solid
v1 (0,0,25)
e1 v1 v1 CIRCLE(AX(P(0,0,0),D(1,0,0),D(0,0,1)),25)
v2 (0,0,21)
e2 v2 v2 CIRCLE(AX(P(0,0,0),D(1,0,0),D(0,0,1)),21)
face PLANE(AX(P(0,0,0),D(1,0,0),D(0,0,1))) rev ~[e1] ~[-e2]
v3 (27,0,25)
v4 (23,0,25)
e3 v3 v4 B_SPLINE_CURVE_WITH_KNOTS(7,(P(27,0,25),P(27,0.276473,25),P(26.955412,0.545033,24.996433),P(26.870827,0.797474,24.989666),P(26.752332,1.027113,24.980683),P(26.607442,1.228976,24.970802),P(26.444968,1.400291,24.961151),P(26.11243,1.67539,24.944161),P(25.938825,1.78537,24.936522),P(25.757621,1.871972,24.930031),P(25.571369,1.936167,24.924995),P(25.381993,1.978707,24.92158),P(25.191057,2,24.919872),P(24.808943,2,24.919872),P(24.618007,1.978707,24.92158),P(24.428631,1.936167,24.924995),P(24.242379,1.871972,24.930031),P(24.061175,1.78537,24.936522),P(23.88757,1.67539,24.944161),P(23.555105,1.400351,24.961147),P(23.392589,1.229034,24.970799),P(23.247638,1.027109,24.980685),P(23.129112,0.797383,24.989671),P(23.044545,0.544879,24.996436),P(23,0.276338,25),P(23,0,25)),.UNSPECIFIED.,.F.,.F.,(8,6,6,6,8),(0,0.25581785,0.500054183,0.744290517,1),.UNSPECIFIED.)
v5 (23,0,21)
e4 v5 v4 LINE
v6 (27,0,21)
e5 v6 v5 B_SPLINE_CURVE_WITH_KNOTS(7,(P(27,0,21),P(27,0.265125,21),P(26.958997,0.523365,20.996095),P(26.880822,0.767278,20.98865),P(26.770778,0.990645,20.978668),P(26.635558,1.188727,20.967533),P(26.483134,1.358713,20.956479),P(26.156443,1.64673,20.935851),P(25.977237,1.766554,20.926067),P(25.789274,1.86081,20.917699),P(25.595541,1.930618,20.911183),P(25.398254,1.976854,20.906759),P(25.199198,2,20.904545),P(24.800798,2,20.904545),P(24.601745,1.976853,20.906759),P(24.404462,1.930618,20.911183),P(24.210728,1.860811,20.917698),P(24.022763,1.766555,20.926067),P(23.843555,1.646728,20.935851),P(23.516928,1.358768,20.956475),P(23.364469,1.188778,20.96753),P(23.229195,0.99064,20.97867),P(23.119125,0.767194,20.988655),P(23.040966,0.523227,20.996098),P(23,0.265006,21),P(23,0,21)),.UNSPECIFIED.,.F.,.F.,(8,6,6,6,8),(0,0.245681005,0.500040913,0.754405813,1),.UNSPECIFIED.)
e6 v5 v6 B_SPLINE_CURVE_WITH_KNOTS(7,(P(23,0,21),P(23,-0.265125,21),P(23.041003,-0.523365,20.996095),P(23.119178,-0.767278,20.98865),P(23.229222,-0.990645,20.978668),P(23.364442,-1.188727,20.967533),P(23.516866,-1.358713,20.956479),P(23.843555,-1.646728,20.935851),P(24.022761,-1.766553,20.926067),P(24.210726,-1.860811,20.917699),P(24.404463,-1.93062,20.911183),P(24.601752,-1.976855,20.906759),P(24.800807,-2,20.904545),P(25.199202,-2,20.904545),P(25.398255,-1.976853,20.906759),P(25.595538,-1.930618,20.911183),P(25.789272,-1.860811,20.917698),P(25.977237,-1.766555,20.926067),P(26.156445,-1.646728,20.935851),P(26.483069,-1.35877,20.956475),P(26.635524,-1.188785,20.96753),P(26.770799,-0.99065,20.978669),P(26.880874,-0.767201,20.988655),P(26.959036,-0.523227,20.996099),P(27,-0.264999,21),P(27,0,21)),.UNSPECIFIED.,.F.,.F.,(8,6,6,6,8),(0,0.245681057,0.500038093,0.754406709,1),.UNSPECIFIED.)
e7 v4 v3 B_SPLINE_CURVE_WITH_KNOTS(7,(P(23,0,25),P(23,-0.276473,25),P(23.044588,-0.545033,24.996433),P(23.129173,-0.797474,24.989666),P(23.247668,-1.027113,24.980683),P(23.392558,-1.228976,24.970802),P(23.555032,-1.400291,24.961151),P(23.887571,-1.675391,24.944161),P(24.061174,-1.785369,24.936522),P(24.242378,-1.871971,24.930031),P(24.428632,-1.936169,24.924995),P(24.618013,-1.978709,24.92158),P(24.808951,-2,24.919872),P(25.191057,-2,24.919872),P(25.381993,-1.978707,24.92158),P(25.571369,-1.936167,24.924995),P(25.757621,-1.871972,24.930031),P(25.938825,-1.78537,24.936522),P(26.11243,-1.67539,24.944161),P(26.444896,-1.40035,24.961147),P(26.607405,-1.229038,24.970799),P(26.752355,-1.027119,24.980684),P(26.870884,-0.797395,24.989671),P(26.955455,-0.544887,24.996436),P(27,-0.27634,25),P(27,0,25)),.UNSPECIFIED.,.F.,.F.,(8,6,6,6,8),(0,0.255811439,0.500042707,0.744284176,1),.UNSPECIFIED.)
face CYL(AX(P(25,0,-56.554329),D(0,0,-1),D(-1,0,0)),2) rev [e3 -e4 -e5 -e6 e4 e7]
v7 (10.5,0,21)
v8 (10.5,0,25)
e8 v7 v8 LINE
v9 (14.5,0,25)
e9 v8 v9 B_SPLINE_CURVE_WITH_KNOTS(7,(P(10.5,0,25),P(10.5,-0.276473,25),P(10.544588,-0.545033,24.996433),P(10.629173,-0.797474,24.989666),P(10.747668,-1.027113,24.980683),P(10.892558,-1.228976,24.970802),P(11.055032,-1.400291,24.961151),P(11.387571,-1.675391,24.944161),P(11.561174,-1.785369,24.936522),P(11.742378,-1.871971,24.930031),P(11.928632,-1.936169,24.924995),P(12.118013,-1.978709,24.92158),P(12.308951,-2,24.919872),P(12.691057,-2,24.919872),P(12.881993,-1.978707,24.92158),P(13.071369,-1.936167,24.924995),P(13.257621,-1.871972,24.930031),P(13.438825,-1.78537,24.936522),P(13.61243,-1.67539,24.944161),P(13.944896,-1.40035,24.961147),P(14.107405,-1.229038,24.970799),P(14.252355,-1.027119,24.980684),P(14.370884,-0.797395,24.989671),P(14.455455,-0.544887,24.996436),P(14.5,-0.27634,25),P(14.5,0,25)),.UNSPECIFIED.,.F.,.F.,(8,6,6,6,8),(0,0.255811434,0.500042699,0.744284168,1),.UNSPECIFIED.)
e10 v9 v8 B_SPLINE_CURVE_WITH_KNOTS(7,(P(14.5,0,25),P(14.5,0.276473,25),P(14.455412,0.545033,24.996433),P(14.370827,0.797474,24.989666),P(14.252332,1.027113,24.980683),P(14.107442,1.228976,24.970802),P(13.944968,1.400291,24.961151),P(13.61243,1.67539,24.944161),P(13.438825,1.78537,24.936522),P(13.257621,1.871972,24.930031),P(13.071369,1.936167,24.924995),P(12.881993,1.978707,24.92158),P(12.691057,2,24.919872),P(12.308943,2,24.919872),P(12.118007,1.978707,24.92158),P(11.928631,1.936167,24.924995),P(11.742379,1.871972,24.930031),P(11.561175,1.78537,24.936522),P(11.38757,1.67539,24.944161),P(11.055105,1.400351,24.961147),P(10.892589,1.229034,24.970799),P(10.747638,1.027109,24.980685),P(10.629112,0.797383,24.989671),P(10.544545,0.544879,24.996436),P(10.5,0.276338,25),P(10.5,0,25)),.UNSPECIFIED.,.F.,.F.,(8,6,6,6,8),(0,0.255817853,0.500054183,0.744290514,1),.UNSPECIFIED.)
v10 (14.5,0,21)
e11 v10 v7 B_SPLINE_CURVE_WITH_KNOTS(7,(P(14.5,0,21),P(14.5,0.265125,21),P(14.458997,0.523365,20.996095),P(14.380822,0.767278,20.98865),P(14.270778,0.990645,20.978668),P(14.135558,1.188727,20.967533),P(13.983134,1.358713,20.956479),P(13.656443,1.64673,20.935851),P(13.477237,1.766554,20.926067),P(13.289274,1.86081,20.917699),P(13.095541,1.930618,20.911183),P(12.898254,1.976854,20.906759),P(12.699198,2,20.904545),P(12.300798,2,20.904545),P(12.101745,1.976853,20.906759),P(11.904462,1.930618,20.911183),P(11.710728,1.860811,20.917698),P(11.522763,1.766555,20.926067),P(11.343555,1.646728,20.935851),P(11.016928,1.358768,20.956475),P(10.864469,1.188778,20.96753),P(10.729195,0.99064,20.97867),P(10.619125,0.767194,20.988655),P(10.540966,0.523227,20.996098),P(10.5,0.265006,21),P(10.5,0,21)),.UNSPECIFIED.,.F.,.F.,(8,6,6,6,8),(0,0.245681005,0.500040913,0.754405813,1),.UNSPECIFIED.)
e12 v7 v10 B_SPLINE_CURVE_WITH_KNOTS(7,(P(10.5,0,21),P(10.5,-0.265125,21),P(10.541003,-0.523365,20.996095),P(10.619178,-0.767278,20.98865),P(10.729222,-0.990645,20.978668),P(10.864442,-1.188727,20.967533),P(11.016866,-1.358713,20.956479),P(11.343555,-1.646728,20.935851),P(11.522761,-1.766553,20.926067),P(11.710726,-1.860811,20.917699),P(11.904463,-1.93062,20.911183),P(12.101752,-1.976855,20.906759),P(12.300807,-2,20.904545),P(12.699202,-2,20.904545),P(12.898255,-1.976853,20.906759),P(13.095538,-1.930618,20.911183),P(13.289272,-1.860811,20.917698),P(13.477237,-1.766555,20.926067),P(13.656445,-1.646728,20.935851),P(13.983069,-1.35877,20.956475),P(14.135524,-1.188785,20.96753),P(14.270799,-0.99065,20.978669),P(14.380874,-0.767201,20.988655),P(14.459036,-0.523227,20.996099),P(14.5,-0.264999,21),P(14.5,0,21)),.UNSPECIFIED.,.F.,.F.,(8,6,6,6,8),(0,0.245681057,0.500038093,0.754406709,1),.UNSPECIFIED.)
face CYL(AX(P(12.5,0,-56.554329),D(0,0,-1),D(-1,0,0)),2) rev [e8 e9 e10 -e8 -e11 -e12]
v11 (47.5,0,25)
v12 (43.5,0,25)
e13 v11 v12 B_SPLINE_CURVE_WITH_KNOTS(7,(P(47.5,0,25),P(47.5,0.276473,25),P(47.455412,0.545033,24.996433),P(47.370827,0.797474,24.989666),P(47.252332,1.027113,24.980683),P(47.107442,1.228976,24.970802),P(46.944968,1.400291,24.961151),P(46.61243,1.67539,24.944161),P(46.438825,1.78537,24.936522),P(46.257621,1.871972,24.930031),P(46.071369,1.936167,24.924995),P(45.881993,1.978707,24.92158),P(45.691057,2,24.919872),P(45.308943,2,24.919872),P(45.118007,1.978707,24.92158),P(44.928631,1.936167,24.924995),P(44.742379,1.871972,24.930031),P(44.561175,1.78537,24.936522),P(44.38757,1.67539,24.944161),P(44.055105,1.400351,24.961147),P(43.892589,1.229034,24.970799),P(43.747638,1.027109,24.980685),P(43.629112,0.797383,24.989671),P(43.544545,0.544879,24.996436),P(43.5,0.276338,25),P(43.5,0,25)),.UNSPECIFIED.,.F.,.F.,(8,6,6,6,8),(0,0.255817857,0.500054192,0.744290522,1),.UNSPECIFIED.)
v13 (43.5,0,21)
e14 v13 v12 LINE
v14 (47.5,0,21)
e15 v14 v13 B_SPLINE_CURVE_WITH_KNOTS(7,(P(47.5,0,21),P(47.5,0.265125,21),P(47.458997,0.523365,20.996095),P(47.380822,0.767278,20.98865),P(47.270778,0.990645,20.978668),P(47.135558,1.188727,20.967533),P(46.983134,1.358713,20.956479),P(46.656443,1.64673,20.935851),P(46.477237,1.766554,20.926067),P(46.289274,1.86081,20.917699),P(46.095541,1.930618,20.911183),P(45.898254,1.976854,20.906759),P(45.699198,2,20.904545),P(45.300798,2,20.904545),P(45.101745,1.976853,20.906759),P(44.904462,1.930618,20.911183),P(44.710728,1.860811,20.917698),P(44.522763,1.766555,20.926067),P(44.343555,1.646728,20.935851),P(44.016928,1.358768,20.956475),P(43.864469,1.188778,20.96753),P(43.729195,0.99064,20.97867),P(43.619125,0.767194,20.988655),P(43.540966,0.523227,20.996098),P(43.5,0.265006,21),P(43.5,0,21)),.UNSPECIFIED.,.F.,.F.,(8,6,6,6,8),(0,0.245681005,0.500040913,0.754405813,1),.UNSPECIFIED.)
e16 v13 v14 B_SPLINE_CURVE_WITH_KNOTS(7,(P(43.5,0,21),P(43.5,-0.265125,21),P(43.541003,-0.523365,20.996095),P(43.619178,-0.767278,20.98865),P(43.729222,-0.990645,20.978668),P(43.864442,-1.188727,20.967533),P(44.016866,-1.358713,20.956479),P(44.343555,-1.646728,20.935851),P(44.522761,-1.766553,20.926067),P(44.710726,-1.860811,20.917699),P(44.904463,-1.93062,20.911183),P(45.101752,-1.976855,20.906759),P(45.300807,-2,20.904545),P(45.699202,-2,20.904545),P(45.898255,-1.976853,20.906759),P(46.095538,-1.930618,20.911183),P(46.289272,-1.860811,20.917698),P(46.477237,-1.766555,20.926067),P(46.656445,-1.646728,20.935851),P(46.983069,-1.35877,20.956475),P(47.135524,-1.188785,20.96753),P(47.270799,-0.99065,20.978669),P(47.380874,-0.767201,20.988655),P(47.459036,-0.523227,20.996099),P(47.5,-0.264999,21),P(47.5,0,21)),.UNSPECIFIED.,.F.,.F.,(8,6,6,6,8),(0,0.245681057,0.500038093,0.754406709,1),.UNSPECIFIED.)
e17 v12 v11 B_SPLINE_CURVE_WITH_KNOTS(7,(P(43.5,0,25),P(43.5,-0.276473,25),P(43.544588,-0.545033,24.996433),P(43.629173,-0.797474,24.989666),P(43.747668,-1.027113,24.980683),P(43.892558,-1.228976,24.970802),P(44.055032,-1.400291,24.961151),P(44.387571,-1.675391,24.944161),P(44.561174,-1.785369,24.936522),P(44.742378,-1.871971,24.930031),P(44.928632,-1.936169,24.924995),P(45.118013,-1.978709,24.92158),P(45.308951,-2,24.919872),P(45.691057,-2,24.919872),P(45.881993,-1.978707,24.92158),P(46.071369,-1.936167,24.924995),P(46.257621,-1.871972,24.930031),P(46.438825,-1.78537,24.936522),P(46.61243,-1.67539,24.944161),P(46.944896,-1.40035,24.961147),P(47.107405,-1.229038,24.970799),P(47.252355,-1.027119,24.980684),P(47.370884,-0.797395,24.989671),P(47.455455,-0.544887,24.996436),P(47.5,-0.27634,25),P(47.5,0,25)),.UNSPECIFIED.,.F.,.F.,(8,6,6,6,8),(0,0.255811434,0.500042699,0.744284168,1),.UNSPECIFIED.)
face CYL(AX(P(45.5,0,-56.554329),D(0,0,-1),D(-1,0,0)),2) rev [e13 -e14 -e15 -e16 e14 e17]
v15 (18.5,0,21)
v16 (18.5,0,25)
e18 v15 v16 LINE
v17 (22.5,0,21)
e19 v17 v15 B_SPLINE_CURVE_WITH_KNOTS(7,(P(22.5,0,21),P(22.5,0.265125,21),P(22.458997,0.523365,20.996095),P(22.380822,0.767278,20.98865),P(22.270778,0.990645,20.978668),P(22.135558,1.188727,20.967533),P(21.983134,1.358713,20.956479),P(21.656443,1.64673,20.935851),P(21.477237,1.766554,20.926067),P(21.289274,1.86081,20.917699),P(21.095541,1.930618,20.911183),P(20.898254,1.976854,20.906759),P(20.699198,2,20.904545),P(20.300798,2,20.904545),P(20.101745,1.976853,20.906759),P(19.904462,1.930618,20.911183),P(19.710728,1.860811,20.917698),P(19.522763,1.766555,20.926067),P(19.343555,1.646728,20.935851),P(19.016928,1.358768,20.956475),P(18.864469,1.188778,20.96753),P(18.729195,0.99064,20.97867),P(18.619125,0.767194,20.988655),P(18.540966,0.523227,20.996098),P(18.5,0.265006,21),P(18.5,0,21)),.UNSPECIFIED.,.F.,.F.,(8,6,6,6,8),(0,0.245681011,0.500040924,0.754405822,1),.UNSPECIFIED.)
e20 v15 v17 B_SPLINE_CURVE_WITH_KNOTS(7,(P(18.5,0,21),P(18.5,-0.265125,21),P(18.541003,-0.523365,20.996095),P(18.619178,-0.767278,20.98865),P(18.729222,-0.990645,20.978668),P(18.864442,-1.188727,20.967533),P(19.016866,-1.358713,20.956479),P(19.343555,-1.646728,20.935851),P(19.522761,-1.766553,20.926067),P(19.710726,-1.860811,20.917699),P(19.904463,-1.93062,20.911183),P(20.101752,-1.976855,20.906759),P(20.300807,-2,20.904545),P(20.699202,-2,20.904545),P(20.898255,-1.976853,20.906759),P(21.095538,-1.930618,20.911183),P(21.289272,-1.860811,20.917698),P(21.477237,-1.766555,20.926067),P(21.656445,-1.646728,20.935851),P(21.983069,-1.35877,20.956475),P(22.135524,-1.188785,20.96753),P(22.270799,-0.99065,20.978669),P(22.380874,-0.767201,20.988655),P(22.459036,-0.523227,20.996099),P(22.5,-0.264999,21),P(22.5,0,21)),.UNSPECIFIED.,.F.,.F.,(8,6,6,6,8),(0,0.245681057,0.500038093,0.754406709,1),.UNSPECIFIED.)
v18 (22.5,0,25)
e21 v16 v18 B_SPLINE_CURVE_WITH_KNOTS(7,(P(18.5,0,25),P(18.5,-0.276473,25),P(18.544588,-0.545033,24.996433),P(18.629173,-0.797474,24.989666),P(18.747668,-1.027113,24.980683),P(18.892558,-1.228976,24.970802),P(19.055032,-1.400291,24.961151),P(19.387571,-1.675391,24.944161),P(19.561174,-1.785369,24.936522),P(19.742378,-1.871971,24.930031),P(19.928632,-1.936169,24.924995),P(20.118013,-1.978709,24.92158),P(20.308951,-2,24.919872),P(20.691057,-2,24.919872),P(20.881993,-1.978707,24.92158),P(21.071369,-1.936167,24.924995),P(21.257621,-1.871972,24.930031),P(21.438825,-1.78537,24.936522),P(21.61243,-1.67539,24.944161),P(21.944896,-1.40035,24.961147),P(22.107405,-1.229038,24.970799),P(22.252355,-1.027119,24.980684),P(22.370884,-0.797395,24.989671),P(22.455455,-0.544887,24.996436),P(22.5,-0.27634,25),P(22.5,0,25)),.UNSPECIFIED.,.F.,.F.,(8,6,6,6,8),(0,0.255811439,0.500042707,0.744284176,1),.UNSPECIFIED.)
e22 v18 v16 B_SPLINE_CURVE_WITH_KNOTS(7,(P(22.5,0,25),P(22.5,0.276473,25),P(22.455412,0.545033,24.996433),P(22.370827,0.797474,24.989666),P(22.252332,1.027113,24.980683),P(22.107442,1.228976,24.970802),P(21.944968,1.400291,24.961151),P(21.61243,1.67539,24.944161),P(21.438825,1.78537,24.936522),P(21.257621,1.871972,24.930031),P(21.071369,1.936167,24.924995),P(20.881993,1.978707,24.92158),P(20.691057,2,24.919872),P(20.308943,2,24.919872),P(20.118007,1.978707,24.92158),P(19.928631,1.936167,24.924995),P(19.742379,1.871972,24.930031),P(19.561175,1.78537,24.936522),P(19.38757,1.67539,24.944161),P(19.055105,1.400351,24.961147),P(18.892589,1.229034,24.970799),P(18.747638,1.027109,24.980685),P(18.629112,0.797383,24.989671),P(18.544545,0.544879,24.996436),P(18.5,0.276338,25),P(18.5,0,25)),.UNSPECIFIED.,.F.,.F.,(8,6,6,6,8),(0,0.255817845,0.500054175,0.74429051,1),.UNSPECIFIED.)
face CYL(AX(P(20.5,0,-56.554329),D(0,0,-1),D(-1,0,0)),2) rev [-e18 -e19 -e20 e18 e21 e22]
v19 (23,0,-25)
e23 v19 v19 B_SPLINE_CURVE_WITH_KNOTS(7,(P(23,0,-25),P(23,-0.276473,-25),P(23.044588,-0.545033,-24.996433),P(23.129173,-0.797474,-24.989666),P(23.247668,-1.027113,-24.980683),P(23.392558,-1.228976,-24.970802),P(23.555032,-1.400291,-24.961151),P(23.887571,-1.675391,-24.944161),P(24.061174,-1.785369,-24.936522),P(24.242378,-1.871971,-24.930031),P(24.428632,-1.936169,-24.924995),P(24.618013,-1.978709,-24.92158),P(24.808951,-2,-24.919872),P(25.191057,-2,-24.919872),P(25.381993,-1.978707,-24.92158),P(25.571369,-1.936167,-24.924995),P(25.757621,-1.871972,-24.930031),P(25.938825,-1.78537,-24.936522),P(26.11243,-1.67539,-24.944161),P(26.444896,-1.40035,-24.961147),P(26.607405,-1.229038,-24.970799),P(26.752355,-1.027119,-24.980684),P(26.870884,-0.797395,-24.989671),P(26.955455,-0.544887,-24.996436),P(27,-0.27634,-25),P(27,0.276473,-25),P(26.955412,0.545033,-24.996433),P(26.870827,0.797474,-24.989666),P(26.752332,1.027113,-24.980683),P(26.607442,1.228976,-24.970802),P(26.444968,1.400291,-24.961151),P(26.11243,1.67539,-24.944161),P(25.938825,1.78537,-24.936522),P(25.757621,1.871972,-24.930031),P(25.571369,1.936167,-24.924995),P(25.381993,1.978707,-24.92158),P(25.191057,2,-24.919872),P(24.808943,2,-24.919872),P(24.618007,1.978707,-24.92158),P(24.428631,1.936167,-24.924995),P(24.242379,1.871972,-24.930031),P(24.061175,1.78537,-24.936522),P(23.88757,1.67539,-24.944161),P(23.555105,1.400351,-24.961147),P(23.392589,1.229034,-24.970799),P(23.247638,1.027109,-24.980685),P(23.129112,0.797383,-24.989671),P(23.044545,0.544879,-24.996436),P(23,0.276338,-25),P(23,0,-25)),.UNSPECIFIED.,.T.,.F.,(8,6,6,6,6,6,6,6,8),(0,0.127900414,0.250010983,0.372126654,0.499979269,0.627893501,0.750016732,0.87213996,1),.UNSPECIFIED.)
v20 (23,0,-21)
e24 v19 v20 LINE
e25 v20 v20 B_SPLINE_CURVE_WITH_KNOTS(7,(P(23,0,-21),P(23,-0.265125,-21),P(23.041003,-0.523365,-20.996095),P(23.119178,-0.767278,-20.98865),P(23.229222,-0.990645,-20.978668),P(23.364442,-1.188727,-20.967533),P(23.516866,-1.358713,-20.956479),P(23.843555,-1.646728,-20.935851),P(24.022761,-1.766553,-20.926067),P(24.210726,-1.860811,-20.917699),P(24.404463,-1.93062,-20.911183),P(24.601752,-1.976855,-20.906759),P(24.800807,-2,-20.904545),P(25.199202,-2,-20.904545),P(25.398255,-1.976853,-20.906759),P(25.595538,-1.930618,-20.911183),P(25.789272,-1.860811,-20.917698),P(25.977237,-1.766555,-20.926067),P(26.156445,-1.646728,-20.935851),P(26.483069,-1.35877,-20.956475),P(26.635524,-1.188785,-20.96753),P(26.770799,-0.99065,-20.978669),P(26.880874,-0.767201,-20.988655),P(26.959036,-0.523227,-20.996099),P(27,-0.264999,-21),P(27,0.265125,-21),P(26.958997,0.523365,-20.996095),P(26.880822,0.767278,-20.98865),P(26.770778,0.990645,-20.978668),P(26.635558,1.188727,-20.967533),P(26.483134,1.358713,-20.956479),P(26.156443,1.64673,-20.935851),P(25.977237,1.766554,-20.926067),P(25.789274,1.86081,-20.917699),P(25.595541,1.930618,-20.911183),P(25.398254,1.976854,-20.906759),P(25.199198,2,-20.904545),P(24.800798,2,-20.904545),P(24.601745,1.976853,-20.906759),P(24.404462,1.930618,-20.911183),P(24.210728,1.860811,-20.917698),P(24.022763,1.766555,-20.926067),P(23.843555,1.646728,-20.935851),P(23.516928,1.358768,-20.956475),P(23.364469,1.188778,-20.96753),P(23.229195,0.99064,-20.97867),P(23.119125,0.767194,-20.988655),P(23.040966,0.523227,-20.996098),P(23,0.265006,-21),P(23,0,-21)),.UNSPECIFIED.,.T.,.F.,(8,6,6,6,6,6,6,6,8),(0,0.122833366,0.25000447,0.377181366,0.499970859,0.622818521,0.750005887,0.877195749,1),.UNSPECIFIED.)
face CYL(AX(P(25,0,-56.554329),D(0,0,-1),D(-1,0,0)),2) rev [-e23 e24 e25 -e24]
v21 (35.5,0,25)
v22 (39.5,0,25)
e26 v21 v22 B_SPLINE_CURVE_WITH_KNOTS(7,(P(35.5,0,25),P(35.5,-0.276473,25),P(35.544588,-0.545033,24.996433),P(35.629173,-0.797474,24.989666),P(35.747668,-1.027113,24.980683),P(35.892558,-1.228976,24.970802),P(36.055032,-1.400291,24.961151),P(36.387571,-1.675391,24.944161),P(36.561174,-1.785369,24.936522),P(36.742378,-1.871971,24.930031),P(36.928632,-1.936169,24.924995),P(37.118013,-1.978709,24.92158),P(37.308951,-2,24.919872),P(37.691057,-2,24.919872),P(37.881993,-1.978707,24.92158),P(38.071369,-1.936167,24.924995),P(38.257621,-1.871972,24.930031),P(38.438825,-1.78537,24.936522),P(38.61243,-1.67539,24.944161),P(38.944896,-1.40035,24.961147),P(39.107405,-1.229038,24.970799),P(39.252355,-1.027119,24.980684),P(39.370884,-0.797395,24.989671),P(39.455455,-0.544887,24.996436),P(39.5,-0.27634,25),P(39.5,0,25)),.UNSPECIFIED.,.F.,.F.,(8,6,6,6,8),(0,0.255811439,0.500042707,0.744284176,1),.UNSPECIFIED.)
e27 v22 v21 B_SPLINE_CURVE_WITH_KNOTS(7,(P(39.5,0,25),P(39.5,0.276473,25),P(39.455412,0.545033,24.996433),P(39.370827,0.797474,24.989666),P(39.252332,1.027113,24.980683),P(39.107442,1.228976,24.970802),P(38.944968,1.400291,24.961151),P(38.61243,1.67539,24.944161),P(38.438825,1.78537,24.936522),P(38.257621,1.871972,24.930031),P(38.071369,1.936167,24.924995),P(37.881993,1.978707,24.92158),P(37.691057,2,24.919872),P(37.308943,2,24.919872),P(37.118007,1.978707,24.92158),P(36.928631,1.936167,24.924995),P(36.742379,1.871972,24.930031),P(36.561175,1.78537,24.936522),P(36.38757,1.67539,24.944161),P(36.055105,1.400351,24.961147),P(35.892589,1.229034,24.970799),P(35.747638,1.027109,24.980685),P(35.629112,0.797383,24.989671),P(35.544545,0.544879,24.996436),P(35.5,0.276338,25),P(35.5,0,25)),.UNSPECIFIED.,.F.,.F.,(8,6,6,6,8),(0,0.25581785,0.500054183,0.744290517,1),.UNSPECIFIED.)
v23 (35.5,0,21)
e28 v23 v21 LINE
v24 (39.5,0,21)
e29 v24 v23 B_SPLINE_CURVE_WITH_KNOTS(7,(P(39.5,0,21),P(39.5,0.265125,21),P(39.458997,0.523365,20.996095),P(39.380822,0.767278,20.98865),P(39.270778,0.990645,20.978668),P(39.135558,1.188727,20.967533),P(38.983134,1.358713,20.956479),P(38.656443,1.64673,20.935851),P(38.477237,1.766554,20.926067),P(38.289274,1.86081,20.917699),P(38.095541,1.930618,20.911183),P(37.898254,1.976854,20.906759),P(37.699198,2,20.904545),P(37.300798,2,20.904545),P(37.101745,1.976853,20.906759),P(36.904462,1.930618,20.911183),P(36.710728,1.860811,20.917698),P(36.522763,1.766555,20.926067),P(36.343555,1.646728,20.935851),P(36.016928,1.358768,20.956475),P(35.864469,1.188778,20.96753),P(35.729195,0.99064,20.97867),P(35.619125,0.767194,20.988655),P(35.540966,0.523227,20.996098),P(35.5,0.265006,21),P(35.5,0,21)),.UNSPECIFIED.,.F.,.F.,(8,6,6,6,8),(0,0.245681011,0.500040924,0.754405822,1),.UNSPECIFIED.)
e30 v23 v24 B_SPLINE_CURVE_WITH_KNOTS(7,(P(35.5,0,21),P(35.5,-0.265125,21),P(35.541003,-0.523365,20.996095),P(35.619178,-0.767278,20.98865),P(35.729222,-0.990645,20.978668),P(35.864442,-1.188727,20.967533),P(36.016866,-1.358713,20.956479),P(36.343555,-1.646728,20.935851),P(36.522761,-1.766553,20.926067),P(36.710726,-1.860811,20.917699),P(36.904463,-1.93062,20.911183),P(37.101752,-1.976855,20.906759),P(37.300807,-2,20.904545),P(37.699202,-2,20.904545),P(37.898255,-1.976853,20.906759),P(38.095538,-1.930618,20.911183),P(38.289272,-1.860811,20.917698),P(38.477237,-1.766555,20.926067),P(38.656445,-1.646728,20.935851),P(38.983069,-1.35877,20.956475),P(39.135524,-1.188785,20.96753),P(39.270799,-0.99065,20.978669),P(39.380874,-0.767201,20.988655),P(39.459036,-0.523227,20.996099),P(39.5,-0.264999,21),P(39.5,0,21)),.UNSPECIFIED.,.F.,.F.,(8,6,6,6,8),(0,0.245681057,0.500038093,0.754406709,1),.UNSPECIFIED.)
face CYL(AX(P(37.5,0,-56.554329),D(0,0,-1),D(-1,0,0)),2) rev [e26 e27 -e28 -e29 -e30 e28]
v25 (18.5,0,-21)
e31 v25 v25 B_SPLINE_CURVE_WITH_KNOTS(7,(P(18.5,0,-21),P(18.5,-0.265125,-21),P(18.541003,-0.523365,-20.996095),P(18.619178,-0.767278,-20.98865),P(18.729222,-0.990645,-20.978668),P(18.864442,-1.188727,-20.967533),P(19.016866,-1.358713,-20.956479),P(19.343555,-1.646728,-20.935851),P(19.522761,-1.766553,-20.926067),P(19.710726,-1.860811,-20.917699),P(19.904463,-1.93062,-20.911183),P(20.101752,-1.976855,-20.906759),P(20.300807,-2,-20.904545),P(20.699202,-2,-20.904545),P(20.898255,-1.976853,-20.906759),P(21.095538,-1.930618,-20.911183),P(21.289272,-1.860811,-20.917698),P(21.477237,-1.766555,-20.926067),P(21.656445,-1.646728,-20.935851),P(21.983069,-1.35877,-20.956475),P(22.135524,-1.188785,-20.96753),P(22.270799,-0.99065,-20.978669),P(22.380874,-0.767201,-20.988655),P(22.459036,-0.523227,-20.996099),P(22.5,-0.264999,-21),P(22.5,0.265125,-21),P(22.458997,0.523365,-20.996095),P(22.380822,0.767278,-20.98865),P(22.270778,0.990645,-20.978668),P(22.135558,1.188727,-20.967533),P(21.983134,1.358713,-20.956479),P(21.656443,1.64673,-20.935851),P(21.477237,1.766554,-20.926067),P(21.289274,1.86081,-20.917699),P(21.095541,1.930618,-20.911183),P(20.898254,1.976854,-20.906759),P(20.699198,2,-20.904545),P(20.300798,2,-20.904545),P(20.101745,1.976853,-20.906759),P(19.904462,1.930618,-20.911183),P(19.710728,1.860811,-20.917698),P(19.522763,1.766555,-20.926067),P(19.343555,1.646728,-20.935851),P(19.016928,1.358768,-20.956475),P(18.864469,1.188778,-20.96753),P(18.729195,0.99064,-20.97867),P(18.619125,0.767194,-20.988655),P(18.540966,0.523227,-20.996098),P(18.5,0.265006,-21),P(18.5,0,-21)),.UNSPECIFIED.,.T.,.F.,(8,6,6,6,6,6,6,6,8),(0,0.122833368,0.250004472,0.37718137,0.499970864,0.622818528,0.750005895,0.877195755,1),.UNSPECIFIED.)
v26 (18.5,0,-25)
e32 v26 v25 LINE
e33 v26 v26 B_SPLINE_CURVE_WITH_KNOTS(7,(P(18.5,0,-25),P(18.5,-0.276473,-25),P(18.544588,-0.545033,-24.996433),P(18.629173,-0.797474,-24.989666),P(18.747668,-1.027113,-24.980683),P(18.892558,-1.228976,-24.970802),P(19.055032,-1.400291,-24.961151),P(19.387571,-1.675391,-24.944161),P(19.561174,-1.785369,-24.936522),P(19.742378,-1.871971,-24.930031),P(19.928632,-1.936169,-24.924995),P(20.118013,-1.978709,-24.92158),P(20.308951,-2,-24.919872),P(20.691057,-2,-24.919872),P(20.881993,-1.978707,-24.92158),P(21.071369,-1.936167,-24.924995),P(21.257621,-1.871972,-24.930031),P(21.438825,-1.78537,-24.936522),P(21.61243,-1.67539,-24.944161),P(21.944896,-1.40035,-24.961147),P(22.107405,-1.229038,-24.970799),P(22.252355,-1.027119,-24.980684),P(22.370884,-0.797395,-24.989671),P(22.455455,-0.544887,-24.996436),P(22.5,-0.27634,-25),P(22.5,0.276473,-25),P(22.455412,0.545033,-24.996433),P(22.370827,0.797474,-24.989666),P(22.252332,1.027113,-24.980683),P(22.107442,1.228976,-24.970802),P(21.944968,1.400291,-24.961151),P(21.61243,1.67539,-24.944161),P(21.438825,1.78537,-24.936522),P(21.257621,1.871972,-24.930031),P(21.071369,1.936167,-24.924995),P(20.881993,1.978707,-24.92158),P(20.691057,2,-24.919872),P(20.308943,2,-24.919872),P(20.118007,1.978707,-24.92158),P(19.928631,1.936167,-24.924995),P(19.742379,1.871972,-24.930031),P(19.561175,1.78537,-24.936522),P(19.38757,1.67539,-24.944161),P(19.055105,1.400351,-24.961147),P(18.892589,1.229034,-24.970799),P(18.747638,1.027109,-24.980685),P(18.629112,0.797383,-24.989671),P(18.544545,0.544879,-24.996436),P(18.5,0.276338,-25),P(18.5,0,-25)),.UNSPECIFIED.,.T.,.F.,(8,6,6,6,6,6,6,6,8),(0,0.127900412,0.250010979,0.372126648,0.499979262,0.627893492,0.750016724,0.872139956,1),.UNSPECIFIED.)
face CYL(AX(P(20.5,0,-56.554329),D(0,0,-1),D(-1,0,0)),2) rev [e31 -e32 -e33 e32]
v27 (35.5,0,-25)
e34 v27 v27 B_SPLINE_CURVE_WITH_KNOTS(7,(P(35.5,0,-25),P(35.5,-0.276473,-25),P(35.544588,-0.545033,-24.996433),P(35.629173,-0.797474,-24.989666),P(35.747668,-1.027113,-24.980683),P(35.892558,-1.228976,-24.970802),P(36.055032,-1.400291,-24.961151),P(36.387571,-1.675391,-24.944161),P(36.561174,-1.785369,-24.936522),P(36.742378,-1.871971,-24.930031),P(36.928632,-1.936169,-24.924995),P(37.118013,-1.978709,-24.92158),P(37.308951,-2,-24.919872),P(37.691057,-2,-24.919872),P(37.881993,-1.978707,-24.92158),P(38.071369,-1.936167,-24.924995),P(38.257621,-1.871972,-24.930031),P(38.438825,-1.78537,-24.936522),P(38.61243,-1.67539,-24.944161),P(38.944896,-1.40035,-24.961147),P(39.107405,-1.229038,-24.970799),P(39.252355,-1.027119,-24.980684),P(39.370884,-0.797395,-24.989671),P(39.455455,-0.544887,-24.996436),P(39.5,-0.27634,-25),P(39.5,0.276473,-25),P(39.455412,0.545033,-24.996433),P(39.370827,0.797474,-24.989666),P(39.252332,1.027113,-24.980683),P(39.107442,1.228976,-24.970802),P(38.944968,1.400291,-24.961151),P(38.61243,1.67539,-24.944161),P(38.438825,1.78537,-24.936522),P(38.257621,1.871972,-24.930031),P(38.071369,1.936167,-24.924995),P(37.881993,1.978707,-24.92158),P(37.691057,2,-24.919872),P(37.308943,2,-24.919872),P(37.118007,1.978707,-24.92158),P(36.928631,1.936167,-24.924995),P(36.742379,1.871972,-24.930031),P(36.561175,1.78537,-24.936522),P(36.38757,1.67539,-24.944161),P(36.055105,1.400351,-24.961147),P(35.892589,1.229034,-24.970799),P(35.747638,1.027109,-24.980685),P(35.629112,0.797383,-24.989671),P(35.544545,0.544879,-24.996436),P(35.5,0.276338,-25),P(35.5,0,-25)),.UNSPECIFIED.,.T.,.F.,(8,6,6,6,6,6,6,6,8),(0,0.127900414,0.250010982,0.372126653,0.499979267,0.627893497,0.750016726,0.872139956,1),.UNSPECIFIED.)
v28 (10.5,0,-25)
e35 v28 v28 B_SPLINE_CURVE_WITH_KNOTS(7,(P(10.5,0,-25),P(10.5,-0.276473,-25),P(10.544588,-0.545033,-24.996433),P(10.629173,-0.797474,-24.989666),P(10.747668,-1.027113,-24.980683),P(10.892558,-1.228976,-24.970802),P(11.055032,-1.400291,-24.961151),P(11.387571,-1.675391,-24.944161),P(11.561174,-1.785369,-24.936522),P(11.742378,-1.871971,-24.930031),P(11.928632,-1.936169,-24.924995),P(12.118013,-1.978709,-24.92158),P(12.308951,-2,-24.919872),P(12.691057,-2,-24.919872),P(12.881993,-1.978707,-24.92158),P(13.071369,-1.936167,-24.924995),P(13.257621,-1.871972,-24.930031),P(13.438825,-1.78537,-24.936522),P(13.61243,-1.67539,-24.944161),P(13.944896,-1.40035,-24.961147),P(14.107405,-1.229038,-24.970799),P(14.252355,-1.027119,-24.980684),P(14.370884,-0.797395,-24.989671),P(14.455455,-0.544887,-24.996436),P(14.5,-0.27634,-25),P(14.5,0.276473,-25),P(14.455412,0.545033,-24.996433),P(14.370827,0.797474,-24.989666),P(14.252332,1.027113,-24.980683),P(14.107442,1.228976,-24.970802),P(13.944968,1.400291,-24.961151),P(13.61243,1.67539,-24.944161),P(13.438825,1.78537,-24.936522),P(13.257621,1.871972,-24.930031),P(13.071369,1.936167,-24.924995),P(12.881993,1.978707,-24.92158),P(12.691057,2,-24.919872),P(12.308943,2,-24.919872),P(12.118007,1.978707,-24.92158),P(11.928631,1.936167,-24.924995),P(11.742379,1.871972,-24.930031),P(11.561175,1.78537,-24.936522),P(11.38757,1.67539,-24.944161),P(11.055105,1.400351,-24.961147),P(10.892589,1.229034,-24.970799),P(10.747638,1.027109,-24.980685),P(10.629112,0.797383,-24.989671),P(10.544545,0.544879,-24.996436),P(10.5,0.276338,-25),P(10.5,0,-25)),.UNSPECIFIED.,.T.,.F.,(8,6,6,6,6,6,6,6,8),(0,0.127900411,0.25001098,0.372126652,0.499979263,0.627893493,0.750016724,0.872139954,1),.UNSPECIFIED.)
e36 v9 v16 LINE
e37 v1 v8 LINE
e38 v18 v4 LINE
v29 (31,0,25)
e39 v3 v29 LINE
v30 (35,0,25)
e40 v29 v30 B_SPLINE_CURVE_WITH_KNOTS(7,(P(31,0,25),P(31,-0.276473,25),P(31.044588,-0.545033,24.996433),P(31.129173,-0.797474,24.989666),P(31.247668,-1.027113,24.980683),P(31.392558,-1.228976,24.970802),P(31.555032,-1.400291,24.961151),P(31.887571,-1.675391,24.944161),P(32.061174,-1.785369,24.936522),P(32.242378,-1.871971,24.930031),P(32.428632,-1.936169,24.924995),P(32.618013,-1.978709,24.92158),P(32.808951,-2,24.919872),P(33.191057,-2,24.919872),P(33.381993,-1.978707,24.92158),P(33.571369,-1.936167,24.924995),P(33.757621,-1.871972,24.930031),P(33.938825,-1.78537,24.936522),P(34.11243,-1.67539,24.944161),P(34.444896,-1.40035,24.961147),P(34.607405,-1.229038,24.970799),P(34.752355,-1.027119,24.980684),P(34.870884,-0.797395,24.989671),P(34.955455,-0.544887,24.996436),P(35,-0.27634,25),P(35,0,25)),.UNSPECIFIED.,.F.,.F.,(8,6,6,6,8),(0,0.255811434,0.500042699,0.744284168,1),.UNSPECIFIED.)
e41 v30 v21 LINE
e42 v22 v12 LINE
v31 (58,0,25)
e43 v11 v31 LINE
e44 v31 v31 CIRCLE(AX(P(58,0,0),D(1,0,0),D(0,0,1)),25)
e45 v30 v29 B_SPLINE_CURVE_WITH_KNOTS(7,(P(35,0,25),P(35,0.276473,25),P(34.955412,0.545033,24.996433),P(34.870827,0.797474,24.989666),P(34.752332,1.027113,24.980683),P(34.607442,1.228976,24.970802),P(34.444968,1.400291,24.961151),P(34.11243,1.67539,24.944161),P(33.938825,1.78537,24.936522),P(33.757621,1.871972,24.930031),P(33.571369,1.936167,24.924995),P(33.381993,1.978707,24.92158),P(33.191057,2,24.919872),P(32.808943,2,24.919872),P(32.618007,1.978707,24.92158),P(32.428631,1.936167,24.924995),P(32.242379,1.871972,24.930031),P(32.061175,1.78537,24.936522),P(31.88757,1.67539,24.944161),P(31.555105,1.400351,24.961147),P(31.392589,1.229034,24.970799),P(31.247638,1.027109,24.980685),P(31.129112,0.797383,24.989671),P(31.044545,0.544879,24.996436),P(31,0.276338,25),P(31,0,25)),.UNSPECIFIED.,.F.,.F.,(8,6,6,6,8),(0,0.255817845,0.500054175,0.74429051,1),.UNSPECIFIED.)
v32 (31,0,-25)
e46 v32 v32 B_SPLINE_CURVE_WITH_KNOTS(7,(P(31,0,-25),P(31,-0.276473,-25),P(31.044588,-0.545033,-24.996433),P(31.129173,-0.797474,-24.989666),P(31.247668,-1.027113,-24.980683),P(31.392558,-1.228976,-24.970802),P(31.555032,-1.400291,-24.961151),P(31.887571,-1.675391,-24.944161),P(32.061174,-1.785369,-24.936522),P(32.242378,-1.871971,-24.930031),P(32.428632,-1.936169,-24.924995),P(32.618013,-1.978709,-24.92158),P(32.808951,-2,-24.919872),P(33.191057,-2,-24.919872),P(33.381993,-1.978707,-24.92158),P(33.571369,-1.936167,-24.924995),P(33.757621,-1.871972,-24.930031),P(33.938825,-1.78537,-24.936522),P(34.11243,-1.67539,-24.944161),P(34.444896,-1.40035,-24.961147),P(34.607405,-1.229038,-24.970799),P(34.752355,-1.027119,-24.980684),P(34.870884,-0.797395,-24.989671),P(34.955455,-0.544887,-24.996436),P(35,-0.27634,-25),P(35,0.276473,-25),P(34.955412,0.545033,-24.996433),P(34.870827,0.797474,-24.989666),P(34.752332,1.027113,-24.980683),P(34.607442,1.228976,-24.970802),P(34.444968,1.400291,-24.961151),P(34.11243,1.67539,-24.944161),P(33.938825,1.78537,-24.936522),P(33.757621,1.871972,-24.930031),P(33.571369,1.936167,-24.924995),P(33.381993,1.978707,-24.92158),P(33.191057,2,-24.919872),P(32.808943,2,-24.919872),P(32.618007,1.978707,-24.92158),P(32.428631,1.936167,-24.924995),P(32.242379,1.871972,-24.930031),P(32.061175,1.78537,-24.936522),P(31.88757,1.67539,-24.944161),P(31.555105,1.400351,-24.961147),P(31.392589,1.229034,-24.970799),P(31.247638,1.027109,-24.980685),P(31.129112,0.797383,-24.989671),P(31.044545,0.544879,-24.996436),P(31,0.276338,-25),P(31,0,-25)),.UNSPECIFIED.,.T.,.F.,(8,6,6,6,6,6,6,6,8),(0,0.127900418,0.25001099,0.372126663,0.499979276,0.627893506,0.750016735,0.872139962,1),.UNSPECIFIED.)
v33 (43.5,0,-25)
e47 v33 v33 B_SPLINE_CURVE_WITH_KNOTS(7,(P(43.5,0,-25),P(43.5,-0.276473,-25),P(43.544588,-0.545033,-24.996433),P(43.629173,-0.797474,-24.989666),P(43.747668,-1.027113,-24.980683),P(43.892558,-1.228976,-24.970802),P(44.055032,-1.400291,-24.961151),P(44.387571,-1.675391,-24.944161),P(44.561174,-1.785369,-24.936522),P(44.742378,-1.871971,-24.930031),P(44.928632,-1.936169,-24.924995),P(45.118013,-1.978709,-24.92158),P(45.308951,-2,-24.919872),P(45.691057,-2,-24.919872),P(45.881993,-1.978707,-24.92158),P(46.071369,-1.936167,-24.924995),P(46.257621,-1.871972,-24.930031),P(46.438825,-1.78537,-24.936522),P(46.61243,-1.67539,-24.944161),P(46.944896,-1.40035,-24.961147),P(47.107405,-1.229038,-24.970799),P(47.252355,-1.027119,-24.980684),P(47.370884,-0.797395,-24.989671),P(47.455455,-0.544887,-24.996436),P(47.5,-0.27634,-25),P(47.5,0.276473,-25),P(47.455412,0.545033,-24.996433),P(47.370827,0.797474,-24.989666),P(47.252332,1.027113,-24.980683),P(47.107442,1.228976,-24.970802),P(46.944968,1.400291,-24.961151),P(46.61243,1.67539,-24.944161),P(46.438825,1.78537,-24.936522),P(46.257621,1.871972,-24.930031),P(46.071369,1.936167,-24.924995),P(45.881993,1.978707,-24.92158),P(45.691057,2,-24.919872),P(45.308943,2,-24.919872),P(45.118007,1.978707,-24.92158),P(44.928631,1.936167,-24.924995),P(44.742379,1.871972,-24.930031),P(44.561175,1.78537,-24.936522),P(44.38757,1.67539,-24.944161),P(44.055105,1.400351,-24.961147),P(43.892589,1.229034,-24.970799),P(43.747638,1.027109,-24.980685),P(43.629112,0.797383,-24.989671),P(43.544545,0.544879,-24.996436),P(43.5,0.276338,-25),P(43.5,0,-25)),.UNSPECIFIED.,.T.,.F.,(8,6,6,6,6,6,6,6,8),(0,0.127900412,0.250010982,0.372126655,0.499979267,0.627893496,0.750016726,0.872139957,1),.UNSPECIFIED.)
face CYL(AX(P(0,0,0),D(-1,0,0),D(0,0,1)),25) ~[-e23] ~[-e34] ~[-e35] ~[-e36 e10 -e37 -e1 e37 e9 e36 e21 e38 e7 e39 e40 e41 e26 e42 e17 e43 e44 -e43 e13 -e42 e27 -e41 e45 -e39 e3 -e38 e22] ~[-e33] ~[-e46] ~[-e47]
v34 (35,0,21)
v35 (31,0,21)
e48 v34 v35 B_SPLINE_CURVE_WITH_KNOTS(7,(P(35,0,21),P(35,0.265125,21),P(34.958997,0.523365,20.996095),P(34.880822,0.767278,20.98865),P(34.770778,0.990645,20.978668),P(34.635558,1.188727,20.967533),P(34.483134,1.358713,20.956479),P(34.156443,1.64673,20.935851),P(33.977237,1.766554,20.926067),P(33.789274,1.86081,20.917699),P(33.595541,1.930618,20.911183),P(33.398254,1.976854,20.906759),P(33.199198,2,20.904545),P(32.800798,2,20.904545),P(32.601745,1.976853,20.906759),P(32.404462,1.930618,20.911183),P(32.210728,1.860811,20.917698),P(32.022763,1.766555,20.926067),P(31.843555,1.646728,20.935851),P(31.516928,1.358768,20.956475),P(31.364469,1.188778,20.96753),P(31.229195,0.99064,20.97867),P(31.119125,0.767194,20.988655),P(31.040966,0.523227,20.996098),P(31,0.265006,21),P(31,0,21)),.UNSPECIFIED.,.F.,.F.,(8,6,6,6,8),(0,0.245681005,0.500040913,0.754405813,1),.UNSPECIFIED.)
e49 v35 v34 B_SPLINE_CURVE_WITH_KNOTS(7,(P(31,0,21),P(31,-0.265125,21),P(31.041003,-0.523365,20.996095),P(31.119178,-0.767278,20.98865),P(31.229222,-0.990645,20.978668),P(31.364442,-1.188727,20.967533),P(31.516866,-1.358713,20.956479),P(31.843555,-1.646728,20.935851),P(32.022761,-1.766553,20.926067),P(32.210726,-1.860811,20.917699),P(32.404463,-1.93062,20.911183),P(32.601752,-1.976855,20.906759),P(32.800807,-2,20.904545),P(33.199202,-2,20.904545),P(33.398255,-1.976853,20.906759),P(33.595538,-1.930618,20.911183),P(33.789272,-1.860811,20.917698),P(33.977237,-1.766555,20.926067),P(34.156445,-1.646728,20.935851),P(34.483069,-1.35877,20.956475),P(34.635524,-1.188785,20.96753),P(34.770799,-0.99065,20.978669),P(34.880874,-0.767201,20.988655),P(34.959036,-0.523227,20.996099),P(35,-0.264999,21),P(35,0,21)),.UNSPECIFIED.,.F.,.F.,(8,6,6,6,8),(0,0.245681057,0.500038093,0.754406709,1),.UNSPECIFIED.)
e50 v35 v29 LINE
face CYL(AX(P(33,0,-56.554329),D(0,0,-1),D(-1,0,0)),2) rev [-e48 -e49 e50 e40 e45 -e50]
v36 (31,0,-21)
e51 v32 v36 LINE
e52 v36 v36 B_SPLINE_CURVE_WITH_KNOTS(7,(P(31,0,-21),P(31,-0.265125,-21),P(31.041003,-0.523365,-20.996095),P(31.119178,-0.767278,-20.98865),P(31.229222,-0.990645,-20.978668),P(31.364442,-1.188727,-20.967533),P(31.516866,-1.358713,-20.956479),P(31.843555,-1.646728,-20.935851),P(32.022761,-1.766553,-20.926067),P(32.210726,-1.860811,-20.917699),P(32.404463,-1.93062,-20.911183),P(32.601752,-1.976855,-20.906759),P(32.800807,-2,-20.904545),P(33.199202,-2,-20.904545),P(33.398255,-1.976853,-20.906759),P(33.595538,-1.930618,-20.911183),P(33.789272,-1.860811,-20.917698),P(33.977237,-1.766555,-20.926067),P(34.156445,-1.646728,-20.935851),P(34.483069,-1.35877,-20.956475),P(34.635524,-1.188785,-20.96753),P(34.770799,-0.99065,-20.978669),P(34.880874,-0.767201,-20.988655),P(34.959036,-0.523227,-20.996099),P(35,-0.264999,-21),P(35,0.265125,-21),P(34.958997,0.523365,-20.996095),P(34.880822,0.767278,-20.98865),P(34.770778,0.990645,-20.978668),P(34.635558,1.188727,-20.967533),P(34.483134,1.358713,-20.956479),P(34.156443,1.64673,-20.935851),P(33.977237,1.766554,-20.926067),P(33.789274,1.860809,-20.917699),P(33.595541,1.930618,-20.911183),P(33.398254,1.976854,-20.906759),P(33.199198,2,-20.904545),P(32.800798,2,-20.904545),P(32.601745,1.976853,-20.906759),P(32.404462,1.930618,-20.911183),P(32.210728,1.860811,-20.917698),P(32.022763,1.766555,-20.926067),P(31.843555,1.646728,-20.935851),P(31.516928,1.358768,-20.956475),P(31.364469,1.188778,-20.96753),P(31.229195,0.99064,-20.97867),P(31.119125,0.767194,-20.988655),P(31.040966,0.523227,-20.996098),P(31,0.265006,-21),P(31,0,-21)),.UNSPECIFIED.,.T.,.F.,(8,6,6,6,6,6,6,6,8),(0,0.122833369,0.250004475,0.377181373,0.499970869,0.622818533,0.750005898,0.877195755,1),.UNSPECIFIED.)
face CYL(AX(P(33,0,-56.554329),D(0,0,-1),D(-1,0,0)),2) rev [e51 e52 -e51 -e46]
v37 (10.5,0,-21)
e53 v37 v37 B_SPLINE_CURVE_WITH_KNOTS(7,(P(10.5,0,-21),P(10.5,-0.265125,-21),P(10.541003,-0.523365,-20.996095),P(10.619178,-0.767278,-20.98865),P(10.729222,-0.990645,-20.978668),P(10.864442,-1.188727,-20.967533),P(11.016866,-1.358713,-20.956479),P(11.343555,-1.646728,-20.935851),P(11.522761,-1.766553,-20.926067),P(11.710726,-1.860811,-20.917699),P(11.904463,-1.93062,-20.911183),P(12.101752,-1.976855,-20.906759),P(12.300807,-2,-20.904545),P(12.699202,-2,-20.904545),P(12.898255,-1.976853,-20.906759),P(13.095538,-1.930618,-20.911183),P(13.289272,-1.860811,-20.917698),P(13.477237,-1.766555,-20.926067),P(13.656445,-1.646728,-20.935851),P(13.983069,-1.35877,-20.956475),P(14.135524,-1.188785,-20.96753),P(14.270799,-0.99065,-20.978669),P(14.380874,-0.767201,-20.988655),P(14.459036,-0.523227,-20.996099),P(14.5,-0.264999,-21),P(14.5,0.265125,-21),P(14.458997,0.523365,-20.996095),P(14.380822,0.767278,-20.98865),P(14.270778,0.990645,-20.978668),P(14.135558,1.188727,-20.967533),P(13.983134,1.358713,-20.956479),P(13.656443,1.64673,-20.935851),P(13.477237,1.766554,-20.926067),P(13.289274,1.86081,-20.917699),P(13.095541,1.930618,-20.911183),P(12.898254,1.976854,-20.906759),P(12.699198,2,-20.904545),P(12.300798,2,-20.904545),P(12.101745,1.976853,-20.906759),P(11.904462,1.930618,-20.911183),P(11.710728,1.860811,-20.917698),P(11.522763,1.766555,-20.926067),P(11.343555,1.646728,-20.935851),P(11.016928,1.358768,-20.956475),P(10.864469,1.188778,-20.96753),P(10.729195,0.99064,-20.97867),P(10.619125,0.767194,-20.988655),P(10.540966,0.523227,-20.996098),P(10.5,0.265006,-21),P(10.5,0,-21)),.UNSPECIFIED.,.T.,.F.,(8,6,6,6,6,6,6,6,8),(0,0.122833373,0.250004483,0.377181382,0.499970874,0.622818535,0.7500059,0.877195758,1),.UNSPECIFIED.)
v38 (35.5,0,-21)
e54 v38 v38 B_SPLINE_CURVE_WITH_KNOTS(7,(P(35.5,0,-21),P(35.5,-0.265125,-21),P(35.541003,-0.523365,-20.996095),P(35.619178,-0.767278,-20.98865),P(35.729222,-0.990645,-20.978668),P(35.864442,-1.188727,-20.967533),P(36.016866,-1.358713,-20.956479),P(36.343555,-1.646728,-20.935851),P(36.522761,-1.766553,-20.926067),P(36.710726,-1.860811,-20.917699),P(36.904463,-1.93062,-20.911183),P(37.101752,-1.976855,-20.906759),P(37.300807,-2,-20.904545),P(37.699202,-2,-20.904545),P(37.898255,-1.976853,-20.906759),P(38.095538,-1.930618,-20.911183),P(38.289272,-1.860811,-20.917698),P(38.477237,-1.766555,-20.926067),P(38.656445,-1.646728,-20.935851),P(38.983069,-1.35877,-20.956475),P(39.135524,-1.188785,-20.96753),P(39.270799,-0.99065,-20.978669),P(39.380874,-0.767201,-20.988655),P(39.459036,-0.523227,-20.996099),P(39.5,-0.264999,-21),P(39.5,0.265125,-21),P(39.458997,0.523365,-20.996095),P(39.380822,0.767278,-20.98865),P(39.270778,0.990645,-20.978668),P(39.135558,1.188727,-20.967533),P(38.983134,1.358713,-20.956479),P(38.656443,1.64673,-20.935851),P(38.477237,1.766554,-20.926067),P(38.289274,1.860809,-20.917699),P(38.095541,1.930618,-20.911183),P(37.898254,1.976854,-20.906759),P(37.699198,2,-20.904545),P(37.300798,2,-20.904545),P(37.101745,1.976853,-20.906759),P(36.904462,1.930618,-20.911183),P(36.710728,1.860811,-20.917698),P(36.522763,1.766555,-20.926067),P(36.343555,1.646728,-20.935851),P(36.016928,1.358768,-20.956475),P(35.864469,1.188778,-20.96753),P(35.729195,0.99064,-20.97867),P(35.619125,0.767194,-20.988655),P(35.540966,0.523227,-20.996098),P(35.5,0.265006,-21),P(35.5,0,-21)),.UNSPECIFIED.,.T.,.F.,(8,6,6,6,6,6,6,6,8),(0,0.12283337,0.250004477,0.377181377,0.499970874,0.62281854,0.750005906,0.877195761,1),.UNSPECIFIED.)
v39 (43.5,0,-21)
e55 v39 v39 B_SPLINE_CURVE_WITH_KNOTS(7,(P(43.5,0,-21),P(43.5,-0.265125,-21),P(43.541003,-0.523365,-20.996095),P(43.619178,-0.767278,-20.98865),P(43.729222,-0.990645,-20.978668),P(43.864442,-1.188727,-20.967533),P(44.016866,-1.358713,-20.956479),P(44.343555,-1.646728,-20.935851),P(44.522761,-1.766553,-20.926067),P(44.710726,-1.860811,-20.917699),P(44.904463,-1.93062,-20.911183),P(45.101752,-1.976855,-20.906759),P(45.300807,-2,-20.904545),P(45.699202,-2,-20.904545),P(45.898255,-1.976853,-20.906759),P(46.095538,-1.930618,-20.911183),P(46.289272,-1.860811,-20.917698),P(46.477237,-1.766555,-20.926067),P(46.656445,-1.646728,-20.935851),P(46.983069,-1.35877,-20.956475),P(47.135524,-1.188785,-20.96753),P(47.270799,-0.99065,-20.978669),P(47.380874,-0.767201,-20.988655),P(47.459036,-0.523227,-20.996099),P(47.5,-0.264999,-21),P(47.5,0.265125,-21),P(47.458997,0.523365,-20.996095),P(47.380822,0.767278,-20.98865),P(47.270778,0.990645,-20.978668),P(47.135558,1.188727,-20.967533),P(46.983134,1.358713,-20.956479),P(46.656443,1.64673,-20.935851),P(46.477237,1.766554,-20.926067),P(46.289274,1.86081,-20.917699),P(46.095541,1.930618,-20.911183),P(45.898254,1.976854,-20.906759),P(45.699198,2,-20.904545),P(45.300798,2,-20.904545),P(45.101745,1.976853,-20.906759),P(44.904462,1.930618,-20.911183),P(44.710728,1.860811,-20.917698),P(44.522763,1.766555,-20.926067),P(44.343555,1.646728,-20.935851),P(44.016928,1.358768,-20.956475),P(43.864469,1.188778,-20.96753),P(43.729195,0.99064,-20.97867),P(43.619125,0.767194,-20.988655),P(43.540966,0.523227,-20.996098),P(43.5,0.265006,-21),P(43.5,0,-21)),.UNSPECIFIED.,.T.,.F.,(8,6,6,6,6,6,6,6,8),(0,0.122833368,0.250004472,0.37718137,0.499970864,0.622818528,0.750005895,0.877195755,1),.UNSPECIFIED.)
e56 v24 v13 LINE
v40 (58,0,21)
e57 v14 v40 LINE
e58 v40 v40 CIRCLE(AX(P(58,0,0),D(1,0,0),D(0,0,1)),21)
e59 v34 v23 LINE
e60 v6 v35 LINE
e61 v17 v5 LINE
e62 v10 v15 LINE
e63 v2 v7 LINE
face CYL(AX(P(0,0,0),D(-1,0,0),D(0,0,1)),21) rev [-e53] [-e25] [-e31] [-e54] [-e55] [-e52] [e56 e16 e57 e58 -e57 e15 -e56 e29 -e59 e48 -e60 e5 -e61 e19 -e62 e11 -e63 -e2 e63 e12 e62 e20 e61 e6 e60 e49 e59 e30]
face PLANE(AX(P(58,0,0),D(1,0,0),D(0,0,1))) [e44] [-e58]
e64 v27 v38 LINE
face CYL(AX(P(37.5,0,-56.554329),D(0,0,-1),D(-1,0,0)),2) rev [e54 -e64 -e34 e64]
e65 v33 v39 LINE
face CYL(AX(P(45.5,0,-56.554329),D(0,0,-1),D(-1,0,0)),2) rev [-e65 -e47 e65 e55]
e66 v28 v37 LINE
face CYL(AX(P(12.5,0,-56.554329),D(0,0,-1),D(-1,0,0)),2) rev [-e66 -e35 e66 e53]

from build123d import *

# Parameters (mm, degrees)
SKETCH_2_R               = 25
SKETCH_2_R_2             = 21
EXTRUDE_2_DEPTH          = 58
CUT_EXTRUDE_2_DEPTH      = 10
CUT_EXTRUDE_2_DEPTH_BACK = 81.554329493
SKETCH_4_R               = 2


with BuildPart() as part:
    # Эскиз2 → Бобышка-Вытянуть2 (new body)
    with BuildSketch(Plane(origin=(0, 0, 0), x_dir=(0, 0, -1), z_dir=(1, 0, 0))):
        Circle(SKETCH_2_R)
        Circle(SKETCH_2_R_2, mode=Mode.SUBTRACT)
    extrude(amount=EXTRUDE_2_DEPTH)

    # Эскиз4 → Вырез-Вытянуть2 (cut, two sides: drawn at the far end of the back side and taken through both)
    with BuildSketch(Plane.XY.offset(25).offset(-CUT_EXTRUDE_2_DEPTH_BACK)):
        with Locations((12.5, 0)):
            Circle(SKETCH_4_R)
        with Locations((45.5, 0)):
            Circle(SKETCH_4_R)
        with Locations((25, 0)):
            Circle(SKETCH_4_R)
        with Locations((37.5, 0)):
            Circle(SKETCH_4_R)
        with Locations((33, 0)):
            Circle(SKETCH_4_R)
        with Locations((20.5, 0)):
            Circle(SKETCH_4_R)
    extrude(amount=CUT_EXTRUDE_2_DEPTH + CUT_EXTRUDE_2_DEPTH_BACK, mode=Mode.SUBTRACT)


solid = part.part
